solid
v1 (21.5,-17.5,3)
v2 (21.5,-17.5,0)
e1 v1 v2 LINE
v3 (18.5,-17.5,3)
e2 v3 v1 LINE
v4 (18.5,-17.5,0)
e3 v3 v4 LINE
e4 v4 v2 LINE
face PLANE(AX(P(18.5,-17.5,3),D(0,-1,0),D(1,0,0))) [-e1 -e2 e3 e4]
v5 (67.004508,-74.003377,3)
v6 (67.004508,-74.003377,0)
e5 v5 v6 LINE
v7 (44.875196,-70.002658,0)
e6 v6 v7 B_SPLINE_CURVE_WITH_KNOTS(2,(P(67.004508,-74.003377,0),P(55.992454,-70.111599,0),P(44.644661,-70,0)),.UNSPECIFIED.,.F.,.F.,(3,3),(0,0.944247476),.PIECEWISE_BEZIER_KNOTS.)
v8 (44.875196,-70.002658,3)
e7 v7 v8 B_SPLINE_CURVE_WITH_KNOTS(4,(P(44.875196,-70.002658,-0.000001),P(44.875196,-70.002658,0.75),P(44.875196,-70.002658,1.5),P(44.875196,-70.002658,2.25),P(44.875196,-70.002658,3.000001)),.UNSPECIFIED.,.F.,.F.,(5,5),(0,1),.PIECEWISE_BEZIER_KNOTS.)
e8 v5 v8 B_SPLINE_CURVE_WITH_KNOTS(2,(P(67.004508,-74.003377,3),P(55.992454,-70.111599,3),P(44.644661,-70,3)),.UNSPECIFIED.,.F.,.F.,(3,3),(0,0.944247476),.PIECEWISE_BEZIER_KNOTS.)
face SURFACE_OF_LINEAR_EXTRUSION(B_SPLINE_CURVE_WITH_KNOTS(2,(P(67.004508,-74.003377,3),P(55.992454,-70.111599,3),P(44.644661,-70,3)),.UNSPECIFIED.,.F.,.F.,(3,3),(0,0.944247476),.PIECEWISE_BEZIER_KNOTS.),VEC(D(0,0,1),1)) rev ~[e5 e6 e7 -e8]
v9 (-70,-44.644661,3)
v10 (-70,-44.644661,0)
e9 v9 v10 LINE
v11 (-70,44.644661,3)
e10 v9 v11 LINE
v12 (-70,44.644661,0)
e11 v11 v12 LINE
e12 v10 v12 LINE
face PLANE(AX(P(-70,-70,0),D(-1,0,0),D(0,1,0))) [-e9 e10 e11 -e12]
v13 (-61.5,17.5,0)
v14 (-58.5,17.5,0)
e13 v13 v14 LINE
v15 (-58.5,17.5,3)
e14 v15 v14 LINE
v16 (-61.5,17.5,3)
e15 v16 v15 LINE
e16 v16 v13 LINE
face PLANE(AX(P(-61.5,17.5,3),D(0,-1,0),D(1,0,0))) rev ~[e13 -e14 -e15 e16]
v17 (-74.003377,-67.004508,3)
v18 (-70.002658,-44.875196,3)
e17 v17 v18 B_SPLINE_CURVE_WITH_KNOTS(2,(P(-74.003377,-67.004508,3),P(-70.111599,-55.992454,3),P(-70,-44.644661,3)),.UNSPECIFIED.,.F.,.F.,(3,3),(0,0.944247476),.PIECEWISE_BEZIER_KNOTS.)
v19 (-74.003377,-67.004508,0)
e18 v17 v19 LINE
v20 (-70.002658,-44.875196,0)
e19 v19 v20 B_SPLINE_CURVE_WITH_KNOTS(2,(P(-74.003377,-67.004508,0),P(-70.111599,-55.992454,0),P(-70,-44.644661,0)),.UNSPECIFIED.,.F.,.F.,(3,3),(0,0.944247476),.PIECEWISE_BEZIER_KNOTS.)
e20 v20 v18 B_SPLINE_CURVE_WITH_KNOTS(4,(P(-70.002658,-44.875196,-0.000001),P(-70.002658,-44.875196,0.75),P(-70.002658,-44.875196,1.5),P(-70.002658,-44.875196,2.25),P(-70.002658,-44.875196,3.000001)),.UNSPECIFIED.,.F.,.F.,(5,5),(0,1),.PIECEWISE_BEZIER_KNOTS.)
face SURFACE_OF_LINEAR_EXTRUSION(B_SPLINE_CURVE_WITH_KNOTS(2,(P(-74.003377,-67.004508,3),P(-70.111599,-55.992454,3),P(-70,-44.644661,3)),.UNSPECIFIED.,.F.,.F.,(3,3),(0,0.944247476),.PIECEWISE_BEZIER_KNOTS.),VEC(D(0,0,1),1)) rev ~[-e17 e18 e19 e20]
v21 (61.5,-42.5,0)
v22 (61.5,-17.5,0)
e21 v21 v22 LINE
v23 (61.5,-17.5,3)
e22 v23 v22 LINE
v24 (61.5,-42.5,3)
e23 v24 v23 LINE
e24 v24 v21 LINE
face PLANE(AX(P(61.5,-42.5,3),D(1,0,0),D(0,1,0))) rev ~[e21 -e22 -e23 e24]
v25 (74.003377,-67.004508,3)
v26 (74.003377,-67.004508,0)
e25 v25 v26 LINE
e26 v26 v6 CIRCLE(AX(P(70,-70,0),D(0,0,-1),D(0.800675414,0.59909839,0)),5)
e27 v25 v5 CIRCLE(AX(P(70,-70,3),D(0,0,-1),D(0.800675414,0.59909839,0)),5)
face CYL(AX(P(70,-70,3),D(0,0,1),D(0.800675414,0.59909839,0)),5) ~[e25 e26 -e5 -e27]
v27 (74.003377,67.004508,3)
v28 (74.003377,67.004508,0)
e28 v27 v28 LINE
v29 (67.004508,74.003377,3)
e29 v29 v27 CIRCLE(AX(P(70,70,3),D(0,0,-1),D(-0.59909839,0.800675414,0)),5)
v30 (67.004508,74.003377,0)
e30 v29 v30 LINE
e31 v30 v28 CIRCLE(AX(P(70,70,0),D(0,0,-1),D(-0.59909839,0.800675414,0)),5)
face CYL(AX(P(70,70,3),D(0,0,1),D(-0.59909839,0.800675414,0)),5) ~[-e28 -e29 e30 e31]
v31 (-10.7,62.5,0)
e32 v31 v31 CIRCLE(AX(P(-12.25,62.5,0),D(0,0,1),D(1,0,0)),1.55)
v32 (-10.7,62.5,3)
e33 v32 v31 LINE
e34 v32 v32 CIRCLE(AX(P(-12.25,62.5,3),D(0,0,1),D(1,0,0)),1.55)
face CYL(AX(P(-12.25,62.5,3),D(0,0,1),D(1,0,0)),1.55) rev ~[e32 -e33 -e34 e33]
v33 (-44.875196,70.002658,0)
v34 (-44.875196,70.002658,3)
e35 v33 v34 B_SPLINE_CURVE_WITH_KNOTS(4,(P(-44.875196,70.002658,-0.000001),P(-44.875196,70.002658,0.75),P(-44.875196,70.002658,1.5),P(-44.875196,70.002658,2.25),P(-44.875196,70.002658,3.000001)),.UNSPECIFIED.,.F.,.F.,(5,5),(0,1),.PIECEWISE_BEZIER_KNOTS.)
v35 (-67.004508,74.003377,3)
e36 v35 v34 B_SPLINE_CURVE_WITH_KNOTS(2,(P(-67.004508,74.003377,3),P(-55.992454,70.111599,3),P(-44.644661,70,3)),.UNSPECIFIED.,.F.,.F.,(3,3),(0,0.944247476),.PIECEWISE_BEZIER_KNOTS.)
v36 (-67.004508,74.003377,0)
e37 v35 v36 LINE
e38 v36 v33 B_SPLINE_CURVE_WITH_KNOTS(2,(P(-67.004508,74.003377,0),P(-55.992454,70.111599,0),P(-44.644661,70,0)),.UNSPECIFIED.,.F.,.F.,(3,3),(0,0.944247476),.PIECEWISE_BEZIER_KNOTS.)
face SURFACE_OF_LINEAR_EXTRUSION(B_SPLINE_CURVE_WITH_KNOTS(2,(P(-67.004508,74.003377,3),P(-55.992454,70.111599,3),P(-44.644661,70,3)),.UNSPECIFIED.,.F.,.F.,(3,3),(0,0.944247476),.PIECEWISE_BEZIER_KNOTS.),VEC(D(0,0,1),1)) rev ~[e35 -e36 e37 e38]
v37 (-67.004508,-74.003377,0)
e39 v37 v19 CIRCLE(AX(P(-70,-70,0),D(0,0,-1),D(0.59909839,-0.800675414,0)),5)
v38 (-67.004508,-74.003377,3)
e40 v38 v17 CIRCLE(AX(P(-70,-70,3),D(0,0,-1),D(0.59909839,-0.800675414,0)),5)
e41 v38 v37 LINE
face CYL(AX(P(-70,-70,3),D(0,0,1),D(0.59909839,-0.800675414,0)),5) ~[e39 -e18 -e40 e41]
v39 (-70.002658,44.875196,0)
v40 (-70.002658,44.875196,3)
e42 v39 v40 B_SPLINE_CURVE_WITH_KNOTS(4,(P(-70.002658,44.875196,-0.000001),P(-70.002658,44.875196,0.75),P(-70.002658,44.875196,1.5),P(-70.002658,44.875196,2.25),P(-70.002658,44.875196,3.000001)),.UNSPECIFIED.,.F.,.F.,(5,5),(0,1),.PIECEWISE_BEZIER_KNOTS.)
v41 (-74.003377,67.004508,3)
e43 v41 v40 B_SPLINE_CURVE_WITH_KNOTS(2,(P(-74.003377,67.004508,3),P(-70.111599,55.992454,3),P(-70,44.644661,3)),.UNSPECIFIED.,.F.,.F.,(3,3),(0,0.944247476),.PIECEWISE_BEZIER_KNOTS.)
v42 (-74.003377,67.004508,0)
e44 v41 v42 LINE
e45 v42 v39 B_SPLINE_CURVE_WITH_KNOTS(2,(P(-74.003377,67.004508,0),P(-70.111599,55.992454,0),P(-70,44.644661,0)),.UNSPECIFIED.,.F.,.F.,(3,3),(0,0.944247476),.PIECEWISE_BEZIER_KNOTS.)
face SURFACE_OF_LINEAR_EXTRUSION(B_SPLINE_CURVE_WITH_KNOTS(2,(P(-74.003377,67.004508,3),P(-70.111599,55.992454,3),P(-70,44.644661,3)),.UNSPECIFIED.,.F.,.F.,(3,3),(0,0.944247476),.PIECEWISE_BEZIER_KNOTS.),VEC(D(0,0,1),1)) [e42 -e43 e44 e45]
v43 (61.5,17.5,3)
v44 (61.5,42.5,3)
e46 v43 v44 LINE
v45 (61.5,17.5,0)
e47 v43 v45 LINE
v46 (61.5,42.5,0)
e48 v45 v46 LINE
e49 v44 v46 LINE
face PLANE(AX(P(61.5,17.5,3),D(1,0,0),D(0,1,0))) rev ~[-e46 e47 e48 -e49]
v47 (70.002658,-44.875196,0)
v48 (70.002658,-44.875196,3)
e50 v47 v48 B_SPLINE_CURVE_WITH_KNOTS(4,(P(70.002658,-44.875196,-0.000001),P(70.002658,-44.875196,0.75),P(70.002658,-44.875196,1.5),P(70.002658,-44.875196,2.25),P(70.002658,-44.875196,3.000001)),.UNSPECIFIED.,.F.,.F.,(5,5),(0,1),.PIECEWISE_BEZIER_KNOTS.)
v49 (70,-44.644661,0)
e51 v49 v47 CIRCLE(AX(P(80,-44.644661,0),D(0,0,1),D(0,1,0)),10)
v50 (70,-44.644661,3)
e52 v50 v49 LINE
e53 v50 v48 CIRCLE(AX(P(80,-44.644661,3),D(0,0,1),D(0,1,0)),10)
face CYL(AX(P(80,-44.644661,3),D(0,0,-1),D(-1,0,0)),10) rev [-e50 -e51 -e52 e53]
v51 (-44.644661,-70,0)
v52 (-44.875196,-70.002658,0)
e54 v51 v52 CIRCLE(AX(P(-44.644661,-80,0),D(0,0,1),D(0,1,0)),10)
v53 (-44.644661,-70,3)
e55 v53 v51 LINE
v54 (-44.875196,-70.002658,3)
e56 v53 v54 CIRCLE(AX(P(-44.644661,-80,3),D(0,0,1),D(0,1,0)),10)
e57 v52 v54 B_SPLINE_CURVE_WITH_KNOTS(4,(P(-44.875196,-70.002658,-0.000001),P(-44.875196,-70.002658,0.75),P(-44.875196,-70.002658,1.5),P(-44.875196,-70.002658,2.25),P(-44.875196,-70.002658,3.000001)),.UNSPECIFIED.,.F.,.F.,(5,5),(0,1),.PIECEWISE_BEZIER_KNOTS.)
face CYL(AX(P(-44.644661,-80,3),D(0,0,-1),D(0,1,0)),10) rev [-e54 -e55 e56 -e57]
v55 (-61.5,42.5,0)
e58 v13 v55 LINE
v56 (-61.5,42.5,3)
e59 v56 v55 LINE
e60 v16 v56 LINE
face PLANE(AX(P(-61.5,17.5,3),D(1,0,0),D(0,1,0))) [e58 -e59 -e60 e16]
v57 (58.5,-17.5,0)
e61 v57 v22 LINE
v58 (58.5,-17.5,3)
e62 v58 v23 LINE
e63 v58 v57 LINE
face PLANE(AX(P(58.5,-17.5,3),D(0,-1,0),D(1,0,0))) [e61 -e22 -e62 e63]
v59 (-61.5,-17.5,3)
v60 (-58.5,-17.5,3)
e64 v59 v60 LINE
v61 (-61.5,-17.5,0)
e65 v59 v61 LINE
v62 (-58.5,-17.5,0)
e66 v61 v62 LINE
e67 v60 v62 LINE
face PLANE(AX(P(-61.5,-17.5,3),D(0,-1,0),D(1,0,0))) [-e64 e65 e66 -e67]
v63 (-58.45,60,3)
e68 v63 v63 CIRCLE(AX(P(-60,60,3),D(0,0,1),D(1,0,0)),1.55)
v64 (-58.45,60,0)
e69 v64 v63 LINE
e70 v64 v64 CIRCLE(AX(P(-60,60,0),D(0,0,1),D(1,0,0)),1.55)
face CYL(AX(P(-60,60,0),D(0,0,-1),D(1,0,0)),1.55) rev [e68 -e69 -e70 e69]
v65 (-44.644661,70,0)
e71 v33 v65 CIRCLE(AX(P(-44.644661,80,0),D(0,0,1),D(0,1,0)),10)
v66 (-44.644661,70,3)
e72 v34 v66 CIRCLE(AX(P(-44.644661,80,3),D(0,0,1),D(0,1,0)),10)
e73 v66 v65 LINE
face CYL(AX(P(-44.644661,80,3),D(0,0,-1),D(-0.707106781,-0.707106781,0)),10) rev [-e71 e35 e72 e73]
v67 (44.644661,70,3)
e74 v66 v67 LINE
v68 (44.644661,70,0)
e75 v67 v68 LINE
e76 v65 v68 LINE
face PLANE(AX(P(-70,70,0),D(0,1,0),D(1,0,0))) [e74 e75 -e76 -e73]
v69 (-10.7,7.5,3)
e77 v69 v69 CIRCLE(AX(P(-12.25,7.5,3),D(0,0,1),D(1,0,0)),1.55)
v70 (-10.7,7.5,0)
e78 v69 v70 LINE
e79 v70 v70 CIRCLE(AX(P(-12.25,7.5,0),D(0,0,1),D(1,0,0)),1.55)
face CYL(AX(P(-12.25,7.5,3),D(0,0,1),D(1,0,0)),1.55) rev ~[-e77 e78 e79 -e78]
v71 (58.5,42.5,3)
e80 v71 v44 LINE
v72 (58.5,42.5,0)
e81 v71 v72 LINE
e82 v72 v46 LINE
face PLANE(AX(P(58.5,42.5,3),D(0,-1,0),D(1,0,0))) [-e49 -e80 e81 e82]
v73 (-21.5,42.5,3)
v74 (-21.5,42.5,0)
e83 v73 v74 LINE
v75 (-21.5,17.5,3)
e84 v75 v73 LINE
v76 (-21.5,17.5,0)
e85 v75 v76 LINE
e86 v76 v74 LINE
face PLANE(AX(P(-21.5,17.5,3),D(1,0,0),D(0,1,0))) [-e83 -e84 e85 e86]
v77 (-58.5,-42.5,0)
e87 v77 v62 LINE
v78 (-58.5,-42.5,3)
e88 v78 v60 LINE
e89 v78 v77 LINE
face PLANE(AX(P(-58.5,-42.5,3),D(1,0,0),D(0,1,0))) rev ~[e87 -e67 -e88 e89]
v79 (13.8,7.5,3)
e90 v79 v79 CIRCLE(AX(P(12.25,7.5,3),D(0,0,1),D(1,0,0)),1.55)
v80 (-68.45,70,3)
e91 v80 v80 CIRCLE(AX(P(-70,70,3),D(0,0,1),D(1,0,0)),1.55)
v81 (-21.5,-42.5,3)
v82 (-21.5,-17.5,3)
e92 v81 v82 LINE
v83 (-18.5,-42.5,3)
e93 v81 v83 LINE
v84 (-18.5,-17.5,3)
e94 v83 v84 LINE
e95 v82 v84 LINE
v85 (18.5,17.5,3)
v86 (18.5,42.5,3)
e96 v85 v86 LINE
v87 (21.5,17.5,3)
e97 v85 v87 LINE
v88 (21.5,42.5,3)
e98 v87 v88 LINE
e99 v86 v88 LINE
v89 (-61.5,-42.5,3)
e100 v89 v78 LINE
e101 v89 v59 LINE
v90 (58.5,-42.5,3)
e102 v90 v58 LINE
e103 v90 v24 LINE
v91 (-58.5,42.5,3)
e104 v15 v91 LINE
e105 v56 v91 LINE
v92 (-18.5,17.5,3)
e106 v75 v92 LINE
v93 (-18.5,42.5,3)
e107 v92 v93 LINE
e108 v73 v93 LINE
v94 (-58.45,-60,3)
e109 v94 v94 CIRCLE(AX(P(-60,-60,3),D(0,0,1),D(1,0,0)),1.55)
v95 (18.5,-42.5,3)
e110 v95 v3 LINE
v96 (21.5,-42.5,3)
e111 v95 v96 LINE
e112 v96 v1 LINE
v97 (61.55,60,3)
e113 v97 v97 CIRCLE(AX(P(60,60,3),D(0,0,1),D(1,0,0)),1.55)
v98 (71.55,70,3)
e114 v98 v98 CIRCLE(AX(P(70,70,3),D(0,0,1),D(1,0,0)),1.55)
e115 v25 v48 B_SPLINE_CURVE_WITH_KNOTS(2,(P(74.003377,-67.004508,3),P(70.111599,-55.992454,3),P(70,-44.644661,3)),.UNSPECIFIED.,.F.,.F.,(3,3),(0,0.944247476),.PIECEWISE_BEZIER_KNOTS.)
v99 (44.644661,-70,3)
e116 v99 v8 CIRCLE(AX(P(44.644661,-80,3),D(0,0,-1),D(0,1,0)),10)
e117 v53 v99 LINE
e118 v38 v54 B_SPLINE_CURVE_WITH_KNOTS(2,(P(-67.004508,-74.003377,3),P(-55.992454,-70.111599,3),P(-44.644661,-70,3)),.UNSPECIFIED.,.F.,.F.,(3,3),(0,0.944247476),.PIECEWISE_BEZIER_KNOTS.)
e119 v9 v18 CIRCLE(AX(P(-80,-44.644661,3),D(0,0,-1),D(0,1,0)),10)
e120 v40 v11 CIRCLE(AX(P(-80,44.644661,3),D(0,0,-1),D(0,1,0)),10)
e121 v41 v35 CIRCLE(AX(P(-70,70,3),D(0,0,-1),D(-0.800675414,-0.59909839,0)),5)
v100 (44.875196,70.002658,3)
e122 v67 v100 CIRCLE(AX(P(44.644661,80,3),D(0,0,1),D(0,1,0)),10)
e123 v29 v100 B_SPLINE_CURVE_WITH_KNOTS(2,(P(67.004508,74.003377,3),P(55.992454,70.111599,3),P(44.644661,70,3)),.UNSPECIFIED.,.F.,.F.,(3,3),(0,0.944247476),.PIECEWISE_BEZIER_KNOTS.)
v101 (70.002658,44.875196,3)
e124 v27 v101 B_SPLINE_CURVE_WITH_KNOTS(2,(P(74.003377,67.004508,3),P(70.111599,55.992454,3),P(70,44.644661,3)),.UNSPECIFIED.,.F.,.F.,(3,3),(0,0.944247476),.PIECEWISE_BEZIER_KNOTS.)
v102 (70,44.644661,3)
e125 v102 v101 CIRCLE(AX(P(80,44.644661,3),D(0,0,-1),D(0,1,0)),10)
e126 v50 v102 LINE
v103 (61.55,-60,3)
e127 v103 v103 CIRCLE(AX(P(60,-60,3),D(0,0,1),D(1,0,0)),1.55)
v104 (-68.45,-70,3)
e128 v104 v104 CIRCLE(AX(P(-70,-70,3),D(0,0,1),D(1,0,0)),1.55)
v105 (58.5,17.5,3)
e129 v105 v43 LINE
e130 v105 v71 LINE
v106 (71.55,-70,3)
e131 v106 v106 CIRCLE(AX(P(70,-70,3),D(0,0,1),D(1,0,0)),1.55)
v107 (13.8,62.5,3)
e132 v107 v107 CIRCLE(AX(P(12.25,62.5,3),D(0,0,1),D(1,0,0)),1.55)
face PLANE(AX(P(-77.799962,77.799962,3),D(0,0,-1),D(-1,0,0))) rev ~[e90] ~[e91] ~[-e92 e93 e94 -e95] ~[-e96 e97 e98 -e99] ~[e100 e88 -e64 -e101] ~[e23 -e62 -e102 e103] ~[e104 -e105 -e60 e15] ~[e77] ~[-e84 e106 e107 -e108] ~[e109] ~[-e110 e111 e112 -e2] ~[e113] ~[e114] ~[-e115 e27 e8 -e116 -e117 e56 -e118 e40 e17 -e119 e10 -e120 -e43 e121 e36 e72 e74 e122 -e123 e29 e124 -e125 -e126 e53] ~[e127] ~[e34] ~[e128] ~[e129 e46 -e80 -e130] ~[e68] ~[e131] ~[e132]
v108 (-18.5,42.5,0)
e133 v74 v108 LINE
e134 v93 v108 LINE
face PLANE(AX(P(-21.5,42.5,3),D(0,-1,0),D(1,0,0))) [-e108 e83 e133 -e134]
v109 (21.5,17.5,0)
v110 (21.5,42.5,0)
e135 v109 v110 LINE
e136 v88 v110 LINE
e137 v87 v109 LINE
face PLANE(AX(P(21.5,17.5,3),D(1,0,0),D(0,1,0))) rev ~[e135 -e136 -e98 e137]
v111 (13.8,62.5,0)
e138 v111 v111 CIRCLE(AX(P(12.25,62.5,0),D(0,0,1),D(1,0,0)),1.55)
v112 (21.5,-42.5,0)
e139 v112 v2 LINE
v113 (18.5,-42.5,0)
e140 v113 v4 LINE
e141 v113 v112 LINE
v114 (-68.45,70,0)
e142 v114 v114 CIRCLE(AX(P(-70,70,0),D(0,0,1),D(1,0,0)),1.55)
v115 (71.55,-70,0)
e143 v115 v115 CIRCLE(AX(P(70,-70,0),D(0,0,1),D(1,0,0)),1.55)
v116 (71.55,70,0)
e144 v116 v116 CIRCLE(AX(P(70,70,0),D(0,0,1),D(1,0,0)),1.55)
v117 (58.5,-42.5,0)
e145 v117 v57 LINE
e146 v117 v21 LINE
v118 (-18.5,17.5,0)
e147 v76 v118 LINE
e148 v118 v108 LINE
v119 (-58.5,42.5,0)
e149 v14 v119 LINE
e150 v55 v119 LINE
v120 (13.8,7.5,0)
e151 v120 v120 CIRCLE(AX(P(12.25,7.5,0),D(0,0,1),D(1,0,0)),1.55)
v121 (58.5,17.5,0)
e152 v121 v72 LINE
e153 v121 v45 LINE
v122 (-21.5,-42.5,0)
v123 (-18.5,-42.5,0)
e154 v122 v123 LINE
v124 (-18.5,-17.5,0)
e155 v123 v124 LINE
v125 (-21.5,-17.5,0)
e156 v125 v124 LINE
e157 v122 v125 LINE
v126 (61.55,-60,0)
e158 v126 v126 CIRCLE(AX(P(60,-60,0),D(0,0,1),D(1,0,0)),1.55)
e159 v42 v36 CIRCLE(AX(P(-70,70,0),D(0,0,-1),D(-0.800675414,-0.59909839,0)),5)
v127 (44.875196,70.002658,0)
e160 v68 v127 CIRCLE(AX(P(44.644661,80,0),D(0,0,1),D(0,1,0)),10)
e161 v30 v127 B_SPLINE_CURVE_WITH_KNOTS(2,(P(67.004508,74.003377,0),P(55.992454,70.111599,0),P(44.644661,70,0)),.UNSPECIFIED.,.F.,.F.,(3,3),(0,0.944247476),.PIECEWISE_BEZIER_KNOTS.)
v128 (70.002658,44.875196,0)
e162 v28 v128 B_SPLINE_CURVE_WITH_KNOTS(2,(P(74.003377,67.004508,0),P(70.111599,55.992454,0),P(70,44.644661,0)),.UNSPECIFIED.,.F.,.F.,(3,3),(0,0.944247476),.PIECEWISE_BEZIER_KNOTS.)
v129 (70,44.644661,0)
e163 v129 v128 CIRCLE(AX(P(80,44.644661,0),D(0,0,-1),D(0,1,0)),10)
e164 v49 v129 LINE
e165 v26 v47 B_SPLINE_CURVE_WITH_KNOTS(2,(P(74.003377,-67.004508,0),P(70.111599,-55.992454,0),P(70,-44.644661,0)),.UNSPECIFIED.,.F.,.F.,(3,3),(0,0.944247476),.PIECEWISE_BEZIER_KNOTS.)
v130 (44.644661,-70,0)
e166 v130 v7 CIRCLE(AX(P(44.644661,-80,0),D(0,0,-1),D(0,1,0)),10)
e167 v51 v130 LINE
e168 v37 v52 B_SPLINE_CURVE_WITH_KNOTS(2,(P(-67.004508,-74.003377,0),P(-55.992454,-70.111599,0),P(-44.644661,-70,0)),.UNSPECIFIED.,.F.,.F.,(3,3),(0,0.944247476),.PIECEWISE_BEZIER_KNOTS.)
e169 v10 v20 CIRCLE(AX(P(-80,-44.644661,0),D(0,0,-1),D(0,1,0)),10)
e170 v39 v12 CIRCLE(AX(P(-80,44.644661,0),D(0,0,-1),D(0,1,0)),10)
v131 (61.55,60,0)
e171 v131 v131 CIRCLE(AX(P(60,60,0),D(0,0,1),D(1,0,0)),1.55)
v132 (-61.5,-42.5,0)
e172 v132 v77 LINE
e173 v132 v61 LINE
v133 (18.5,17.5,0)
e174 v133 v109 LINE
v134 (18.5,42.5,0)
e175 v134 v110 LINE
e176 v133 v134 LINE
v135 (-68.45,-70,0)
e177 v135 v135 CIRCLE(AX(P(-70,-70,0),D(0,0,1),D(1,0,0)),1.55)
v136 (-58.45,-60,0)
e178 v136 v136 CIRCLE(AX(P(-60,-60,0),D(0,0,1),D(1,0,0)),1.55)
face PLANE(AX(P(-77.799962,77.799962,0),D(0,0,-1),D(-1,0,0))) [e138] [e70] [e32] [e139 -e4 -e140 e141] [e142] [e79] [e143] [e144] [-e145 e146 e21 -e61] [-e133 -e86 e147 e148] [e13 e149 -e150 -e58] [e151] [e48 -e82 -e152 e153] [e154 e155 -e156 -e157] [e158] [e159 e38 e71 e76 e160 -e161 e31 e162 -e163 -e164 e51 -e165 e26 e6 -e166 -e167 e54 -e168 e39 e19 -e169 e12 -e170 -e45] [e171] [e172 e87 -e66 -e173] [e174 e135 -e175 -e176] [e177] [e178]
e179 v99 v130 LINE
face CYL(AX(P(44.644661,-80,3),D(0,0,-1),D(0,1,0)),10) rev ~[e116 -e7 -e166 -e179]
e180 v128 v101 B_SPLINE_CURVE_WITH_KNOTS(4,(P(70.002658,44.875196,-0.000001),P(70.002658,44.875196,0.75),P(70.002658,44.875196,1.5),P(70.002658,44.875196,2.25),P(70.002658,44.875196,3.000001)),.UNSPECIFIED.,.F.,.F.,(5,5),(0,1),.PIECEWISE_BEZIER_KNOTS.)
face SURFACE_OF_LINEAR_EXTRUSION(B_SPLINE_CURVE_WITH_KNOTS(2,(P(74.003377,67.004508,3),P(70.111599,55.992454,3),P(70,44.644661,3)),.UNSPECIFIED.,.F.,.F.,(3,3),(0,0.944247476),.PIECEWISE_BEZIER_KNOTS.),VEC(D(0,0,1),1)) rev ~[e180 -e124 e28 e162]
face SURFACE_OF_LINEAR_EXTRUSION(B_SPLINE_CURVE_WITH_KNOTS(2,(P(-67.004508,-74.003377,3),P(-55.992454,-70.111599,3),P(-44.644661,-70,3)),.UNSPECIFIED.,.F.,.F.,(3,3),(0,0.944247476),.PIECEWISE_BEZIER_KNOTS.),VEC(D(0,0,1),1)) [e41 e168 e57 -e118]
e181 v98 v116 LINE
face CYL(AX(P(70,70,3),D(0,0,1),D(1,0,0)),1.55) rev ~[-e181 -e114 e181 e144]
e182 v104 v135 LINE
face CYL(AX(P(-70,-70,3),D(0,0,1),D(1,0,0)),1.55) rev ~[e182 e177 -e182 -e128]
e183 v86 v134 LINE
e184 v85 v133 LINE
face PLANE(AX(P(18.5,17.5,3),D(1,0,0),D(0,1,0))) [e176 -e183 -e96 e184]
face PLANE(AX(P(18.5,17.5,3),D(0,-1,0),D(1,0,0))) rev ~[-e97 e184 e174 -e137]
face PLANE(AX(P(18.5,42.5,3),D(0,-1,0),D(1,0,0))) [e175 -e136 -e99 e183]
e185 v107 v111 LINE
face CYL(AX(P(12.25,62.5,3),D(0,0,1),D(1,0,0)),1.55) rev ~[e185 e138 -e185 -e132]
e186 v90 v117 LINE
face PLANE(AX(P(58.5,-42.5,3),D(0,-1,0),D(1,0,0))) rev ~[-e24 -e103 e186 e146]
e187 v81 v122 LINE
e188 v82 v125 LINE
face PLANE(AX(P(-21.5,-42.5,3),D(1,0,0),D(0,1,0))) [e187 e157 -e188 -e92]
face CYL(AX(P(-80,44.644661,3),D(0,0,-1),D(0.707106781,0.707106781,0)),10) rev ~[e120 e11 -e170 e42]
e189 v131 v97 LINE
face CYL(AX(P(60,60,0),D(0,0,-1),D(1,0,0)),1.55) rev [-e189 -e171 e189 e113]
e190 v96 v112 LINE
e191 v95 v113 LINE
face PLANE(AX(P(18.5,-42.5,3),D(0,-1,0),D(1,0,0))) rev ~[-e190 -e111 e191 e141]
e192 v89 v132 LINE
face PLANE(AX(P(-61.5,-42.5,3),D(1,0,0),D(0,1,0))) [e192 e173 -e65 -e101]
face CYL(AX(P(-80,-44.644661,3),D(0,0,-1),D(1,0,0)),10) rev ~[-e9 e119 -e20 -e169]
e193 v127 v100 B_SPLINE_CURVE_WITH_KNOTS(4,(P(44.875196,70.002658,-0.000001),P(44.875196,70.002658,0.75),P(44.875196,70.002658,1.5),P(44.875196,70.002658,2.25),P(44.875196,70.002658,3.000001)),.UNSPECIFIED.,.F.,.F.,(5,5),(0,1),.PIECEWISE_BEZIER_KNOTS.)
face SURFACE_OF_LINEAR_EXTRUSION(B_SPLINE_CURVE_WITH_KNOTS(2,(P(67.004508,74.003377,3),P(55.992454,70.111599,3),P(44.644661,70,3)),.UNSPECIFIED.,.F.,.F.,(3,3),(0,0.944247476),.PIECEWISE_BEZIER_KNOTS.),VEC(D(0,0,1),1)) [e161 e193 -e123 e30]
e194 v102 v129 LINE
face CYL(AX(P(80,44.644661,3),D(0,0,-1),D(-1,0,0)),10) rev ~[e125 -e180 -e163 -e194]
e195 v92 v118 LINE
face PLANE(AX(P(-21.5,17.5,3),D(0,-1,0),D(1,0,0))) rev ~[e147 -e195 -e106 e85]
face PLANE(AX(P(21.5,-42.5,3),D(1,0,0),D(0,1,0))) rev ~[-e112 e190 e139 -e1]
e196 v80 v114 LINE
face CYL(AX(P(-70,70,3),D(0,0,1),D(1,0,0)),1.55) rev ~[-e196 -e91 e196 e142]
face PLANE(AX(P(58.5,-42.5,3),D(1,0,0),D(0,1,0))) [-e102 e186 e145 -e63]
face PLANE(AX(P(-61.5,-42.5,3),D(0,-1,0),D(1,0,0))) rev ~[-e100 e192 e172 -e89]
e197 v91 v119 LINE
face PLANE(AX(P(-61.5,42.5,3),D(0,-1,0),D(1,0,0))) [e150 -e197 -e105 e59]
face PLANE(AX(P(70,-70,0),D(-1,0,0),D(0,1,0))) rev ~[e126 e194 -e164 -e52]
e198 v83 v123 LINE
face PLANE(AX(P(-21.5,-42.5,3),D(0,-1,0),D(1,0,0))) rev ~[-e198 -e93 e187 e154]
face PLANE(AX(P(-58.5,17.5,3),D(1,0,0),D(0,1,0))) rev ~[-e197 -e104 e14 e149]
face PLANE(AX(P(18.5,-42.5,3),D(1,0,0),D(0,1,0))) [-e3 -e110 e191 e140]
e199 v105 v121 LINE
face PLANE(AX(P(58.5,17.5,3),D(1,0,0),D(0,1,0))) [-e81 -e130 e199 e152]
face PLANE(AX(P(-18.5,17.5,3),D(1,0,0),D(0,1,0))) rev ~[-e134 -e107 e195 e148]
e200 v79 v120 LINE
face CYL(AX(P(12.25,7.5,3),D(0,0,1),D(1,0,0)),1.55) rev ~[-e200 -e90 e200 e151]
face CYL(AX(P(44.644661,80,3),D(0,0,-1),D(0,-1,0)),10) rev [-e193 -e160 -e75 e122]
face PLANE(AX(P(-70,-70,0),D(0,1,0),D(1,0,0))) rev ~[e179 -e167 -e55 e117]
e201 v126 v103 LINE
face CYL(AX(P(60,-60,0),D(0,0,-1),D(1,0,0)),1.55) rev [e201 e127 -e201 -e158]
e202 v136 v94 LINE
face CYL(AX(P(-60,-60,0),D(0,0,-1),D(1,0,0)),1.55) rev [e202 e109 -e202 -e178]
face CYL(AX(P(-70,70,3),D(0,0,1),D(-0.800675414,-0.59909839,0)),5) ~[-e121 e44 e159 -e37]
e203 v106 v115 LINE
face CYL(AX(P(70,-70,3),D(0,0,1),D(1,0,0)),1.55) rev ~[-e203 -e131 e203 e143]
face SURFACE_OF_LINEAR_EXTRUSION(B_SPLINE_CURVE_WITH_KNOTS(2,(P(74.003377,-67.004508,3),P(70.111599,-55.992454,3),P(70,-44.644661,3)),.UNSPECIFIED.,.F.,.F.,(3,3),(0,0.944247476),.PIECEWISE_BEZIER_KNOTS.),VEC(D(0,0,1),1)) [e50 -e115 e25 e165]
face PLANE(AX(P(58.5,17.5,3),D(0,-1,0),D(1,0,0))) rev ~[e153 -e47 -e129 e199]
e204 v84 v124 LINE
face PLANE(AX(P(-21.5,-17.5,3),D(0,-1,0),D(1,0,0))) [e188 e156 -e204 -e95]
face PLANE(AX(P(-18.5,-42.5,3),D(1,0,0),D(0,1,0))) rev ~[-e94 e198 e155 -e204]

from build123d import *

# Parameters (mm, degrees)
SKETCH_1_W          = 140
SKETCH_1_H          = 140
SKETCH_1_R          = 1.55
EXTRUDE_1_DEPTH     = 3
SKETCH_2_R          = 1.55
SKETCH_2_W          = 3
SKETCH_2_H          = 25
CUT_EXTRUDE_1_DEPTH = 100.040395799
SKETCH_3_R          = 3
SKETCH_3_R_2        = 1.55
EXTRUDE_2_DEPTH     = 3
FILLET_1_R          = 10
SKETCH_7_W          = 252.152927368
SKETCH_7_H          = 251.6818607
CUT_EXTRUDE_3_DEPTH = 3
SKETCH_8_R          = 1.55
CUT_EXTRUDE_4_DEPTH = 3


with BuildPart() as part:
    # 草圖1 → 填料-伸長1 (new body)
    with BuildSketch(Plane.XY):
        Rectangle(SKETCH_1_W, SKETCH_1_H)
        with Locations((-60, 60)):
            Circle(SKETCH_1_R, mode=Mode.SUBTRACT)
        with Locations((60, 60)):
            Circle(SKETCH_1_R, mode=Mode.SUBTRACT)
        with Locations((60, -60)):
            Circle(SKETCH_1_R, mode=Mode.SUBTRACT)
        with Locations((-60, -60)):
            Circle(SKETCH_1_R, mode=Mode.SUBTRACT)
    extrude(amount=EXTRUDE_1_DEPTH)

    # 草圖2 → 除料-伸長1 (cut, through all)
    with BuildSketch(Plane.XY.offset(3)):
        with Locations((-12.25, 62.5)):
            Circle(SKETCH_2_R)
        with Locations((12.25, 62.5)):
            Circle(SKETCH_2_R)
        with Locations((-12.25, 7.5)):
            Circle(SKETCH_2_R)
        with Locations((12.25, 7.5)):
            Circle(SKETCH_2_R)
        with Locations((-60, -30)):
            Rectangle(SKETCH_2_W, SKETCH_2_H)
        with Locations((-60, 30)):
            Rectangle(SKETCH_2_W, SKETCH_2_H)
        with Locations((-20, -30)):
            Rectangle(SKETCH_2_W, SKETCH_2_H)
        with Locations((-20, 30)):
            Rectangle(SKETCH_2_W, SKETCH_2_H)
        with Locations((20, 30)):
            Rectangle(SKETCH_2_W, SKETCH_2_H)
        with Locations((20, -30)):
            Rectangle(SKETCH_2_W, SKETCH_2_H)
        with Locations((60, -30)):
            Rectangle(SKETCH_2_W, SKETCH_2_H)
        with Locations((60, 30)):
            Rectangle(SKETCH_2_W, SKETCH_2_H)
    extrude(amount=-CUT_EXTRUDE_1_DEPTH, mode=Mode.SUBTRACT)

    # 草圖3 → 填料-伸長2 (add)
    # profile 1 of 4: a face of its own
    with BuildSketch(Plane.XY.offset(3)):
        with BuildLine():
            Line((-79.393398282, 100.606601718), (-48.786796564, 70))
            Line((-48.786796564, 70), (-70, 70))
            Line((-70, 70), (-70, 48.786796564))
            Line((-70, 48.786796564), (-100.606601718, 79.393398282))
            ThreePointArc((-100.606601718, 79.393398282), (-100.606601718, 100.606601718), (-79.393398282, 100.606601718))
        make_face()
        with Locations((-90, 90)):
            Circle(SKETCH_3_R, mode=Mode.SUBTRACT)
        with Locations((-81, 90)):
            Circle(SKETCH_3_R_2, mode=Mode.SUBTRACT)
        with Locations((-90, 98)):
            Circle(SKETCH_3_R_2, mode=Mode.SUBTRACT)
        with Locations(Location((-99, 90, 0), (0, 0, 180))):
            Circle(SKETCH_3_R_2, mode=Mode.SUBTRACT)
        with Locations(Location((-90, 82, 0), (0, 0, 180))):
            Circle(SKETCH_3_R_2, mode=Mode.SUBTRACT)
    # profile 2 of 4: a face of its own
    with BuildSketch(Plane.XY.offset(3)):
        with BuildLine():
            Line((48.786796564, 70), (70, 70))
            Line((70, 70), (70, 48.786796564))
            Line((70, 48.786796564), (100.606601718, 79.393398282))
            ThreePointArc((100.606601718, 79.393398282), (100.606601718, 100.606601718), (79.393398282, 100.606601718))
            Line((79.393398282, 100.606601718), (48.786796564, 70))
        make_face()
        with Locations(Location((81, 90, 0), (0, 0, 180))):
            Circle(SKETCH_3_R_2, mode=Mode.SUBTRACT)
        with Locations(Location((90, 90, 0), (0, 0, 180))):
            Circle(SKETCH_3_R, mode=Mode.SUBTRACT)
        with Locations((90, 82)):
            Circle(SKETCH_3_R_2, mode=Mode.SUBTRACT)
        with Locations(Location((90, 98, 0), (0, 0, 180))):
            Circle(SKETCH_3_R_2, mode=Mode.SUBTRACT)
        with Locations((99, 90)):
            Circle(SKETCH_3_R_2, mode=Mode.SUBTRACT)
    # profile 3 of 4: a face of its own
    with BuildSketch(Plane.XY.offset(3)):
        with BuildLine():
            Line((-48.786796564, -70), (-70, -70))
            Line((-70, -70), (-70, -48.786796564))
            Line((-70, -48.786796564), (-100.606601718, -79.393398282))
            ThreePointArc((-100.606601718, -79.393398282), (-100.606601718, -100.606601718), (-79.393398282, -100.606601718))
            Line((-79.393398282, -100.606601718), (-48.786796564, -70))
        make_face()
        with Locations((-90, -82)):
            Circle(SKETCH_3_R_2, mode=Mode.SUBTRACT)
        with Locations(Location((-90, -90, 0), (0, 0, 180))):
            Circle(SKETCH_3_R, mode=Mode.SUBTRACT)
        with Locations(Location((-81, -90, 0), (0, 0, 180))):
            Circle(SKETCH_3_R_2, mode=Mode.SUBTRACT)
        with Locations(Location((-90, -98, 0), (0, 0, 180))):
            Circle(SKETCH_3_R_2, mode=Mode.SUBTRACT)
        with Locations((-99, -90)):
            Circle(SKETCH_3_R_2, mode=Mode.SUBTRACT)
    # profile 4 of 4: a face of its own
    with BuildSketch(Plane.XY.offset(3)):
        with BuildLine():
            Line((79.393398282, -100.606601718), (48.786796564, -70))
            Line((48.786796564, -70), (70, -70))
            Line((70, -70), (70, -48.786796564))
            Line((70, -48.786796564), (100.606601718, -79.393398282))
            ThreePointArc((100.606601718, -79.393398282), (100.606601718, -100.606601718), (79.393398282, -100.606601718))
        make_face()
        with Locations(Location((90, -82, 0), (0, 0, 180))):
            Circle(SKETCH_3_R_2, mode=Mode.SUBTRACT)
        with Locations((90, -90)):
            Circle(SKETCH_3_R, mode=Mode.SUBTRACT)
        with Locations((81, -90)):
            Circle(SKETCH_3_R_2, mode=Mode.SUBTRACT)
        with Locations((90, -98)):
            Circle(SKETCH_3_R_2, mode=Mode.SUBTRACT)
        with Locations(Location((99, -90, 0), (0, 0, 180))):
            Circle(SKETCH_3_R_2, mode=Mode.SUBTRACT)
    extrude(amount=-EXTRUDE_2_DEPTH)

    # 圓角1
    fillet_1_edges = [part.edges().sort_by_distance(p)[0] for p in [
        (-48.786796564, 70, 1.5),
        (-70, 48.786796564, 1.5),
        (70, 48.786796564, 1.5),
        (48.786796564, 70, 1.5),
        (-70, -48.786796564, 1.5),
        (-48.786796564, -70, 1.5),
        (48.786796564, -70, 1.5),
        (70, -48.786796564, 1.5),
    ]]
    fillet(fillet_1_edges, radius=FILLET_1_R)

    # 草圖7 → 除料-伸長3 (cut)
    with BuildSketch(Plane.XY.offset(3)):
        Rectangle(SKETCH_7_W, SKETCH_7_H)
        with BuildLine():
            Line((-44.644660941, 70), (44.644660941, 70))
            add(Edge.make_bspline(
                [(67.004508048, 74.00337707), (55.992453544, 70.111599189), (44.644660941, 70)],
                knots=[0, 0, 0, 0.944247476, 0.944247476, 0.944247476], degree=2))
            ThreePointArc((67.004508048, 74.00337707), (73.535533906, 73.535533906), (74.00337707, 67.004508048))
            add(Edge.make_bspline(
                [(74.00337707, 67.004508048), (70.111599189, 55.992453544), (70, 44.644660941)],
                knots=[0, 0, 0, 0.944247476, 0.944247476, 0.944247476], degree=2))
            Line((70, 44.644660941), (70, -44.644660941))
            add(Edge.make_bspline(
                [(74.00337707, -67.004508048), (70.111599189, -55.992453544), (70, -44.644660941)],
                knots=[0, 0, 0, 0.944247476, 0.944247476, 0.944247476], degree=2))
            ThreePointArc((74.00337707, -67.004508048), (73.535533906, -73.535533906), (67.004508048, -74.00337707))
            add(Edge.make_bspline(
                [(67.004508048, -74.00337707), (55.992453544, -70.111599189), (44.644660941, -70)],
                knots=[0, 0, 0, 0.944247476, 0.944247476, 0.944247476], degree=2))
            Line((44.644660941, -70), (-44.644660941, -70))
            add(Edge.make_bspline(
                [(-67.004508048, -74.00337707), (-55.992453544, -70.111599189), (-44.644660941, -70)],
                knots=[0, 0, 0, 0.944247476, 0.944247476, 0.944247476], degree=2))
            ThreePointArc((-67.004508048, -74.00337707), (-73.535533906, -73.535533906), (-74.00337707, -67.004508048))
            add(Edge.make_bspline(
                [(-74.00337707, -67.004508048), (-70.111599189, -55.992453544), (-70, -44.644660941)],
                knots=[0, 0, 0, 0.944247476, 0.944247476, 0.944247476], degree=2))
            Line((-70, -44.644660941), (-70, 44.644660941))
            add(Edge.make_bspline(
                [(-74.00337707, 67.004508048), (-70.111599189, 55.992453544), (-70, 44.644660941)],
                knots=[0, 0, 0, 0.944247476, 0.944247476, 0.944247476], degree=2))
            ThreePointArc((-74.00337707, 67.004508048), (-73.535533906, 73.535533906), (-67.004508048, 74.00337707))
            add(Edge.make_bspline(
                [(-67.004508048, 74.00337707), (-55.992453544, 70.111599189), (-44.644660941, 70)],
                knots=[0, 0, 0, 0.944247476, 0.944247476, 0.944247476], degree=2))
        make_face(mode=Mode.SUBTRACT)
    extrude(amount=-CUT_EXTRUDE_3_DEPTH, mode=Mode.SUBTRACT)

    # 草圖8 → 除料-伸長4 (cut)
    with BuildSketch(Plane.XY.offset(3)):
        with Locations((-70, 70)):
            Circle(SKETCH_8_R)
        with Locations((70, 70)):
            Circle(SKETCH_8_R)
        with Locations((70, -70)):
            Circle(SKETCH_8_R)
        with Locations((-70, -70)):
            Circle(SKETCH_8_R)
    extrude(amount=-CUT_EXTRUDE_4_DEPTH, mode=Mode.SUBTRACT)


solid = part.part
